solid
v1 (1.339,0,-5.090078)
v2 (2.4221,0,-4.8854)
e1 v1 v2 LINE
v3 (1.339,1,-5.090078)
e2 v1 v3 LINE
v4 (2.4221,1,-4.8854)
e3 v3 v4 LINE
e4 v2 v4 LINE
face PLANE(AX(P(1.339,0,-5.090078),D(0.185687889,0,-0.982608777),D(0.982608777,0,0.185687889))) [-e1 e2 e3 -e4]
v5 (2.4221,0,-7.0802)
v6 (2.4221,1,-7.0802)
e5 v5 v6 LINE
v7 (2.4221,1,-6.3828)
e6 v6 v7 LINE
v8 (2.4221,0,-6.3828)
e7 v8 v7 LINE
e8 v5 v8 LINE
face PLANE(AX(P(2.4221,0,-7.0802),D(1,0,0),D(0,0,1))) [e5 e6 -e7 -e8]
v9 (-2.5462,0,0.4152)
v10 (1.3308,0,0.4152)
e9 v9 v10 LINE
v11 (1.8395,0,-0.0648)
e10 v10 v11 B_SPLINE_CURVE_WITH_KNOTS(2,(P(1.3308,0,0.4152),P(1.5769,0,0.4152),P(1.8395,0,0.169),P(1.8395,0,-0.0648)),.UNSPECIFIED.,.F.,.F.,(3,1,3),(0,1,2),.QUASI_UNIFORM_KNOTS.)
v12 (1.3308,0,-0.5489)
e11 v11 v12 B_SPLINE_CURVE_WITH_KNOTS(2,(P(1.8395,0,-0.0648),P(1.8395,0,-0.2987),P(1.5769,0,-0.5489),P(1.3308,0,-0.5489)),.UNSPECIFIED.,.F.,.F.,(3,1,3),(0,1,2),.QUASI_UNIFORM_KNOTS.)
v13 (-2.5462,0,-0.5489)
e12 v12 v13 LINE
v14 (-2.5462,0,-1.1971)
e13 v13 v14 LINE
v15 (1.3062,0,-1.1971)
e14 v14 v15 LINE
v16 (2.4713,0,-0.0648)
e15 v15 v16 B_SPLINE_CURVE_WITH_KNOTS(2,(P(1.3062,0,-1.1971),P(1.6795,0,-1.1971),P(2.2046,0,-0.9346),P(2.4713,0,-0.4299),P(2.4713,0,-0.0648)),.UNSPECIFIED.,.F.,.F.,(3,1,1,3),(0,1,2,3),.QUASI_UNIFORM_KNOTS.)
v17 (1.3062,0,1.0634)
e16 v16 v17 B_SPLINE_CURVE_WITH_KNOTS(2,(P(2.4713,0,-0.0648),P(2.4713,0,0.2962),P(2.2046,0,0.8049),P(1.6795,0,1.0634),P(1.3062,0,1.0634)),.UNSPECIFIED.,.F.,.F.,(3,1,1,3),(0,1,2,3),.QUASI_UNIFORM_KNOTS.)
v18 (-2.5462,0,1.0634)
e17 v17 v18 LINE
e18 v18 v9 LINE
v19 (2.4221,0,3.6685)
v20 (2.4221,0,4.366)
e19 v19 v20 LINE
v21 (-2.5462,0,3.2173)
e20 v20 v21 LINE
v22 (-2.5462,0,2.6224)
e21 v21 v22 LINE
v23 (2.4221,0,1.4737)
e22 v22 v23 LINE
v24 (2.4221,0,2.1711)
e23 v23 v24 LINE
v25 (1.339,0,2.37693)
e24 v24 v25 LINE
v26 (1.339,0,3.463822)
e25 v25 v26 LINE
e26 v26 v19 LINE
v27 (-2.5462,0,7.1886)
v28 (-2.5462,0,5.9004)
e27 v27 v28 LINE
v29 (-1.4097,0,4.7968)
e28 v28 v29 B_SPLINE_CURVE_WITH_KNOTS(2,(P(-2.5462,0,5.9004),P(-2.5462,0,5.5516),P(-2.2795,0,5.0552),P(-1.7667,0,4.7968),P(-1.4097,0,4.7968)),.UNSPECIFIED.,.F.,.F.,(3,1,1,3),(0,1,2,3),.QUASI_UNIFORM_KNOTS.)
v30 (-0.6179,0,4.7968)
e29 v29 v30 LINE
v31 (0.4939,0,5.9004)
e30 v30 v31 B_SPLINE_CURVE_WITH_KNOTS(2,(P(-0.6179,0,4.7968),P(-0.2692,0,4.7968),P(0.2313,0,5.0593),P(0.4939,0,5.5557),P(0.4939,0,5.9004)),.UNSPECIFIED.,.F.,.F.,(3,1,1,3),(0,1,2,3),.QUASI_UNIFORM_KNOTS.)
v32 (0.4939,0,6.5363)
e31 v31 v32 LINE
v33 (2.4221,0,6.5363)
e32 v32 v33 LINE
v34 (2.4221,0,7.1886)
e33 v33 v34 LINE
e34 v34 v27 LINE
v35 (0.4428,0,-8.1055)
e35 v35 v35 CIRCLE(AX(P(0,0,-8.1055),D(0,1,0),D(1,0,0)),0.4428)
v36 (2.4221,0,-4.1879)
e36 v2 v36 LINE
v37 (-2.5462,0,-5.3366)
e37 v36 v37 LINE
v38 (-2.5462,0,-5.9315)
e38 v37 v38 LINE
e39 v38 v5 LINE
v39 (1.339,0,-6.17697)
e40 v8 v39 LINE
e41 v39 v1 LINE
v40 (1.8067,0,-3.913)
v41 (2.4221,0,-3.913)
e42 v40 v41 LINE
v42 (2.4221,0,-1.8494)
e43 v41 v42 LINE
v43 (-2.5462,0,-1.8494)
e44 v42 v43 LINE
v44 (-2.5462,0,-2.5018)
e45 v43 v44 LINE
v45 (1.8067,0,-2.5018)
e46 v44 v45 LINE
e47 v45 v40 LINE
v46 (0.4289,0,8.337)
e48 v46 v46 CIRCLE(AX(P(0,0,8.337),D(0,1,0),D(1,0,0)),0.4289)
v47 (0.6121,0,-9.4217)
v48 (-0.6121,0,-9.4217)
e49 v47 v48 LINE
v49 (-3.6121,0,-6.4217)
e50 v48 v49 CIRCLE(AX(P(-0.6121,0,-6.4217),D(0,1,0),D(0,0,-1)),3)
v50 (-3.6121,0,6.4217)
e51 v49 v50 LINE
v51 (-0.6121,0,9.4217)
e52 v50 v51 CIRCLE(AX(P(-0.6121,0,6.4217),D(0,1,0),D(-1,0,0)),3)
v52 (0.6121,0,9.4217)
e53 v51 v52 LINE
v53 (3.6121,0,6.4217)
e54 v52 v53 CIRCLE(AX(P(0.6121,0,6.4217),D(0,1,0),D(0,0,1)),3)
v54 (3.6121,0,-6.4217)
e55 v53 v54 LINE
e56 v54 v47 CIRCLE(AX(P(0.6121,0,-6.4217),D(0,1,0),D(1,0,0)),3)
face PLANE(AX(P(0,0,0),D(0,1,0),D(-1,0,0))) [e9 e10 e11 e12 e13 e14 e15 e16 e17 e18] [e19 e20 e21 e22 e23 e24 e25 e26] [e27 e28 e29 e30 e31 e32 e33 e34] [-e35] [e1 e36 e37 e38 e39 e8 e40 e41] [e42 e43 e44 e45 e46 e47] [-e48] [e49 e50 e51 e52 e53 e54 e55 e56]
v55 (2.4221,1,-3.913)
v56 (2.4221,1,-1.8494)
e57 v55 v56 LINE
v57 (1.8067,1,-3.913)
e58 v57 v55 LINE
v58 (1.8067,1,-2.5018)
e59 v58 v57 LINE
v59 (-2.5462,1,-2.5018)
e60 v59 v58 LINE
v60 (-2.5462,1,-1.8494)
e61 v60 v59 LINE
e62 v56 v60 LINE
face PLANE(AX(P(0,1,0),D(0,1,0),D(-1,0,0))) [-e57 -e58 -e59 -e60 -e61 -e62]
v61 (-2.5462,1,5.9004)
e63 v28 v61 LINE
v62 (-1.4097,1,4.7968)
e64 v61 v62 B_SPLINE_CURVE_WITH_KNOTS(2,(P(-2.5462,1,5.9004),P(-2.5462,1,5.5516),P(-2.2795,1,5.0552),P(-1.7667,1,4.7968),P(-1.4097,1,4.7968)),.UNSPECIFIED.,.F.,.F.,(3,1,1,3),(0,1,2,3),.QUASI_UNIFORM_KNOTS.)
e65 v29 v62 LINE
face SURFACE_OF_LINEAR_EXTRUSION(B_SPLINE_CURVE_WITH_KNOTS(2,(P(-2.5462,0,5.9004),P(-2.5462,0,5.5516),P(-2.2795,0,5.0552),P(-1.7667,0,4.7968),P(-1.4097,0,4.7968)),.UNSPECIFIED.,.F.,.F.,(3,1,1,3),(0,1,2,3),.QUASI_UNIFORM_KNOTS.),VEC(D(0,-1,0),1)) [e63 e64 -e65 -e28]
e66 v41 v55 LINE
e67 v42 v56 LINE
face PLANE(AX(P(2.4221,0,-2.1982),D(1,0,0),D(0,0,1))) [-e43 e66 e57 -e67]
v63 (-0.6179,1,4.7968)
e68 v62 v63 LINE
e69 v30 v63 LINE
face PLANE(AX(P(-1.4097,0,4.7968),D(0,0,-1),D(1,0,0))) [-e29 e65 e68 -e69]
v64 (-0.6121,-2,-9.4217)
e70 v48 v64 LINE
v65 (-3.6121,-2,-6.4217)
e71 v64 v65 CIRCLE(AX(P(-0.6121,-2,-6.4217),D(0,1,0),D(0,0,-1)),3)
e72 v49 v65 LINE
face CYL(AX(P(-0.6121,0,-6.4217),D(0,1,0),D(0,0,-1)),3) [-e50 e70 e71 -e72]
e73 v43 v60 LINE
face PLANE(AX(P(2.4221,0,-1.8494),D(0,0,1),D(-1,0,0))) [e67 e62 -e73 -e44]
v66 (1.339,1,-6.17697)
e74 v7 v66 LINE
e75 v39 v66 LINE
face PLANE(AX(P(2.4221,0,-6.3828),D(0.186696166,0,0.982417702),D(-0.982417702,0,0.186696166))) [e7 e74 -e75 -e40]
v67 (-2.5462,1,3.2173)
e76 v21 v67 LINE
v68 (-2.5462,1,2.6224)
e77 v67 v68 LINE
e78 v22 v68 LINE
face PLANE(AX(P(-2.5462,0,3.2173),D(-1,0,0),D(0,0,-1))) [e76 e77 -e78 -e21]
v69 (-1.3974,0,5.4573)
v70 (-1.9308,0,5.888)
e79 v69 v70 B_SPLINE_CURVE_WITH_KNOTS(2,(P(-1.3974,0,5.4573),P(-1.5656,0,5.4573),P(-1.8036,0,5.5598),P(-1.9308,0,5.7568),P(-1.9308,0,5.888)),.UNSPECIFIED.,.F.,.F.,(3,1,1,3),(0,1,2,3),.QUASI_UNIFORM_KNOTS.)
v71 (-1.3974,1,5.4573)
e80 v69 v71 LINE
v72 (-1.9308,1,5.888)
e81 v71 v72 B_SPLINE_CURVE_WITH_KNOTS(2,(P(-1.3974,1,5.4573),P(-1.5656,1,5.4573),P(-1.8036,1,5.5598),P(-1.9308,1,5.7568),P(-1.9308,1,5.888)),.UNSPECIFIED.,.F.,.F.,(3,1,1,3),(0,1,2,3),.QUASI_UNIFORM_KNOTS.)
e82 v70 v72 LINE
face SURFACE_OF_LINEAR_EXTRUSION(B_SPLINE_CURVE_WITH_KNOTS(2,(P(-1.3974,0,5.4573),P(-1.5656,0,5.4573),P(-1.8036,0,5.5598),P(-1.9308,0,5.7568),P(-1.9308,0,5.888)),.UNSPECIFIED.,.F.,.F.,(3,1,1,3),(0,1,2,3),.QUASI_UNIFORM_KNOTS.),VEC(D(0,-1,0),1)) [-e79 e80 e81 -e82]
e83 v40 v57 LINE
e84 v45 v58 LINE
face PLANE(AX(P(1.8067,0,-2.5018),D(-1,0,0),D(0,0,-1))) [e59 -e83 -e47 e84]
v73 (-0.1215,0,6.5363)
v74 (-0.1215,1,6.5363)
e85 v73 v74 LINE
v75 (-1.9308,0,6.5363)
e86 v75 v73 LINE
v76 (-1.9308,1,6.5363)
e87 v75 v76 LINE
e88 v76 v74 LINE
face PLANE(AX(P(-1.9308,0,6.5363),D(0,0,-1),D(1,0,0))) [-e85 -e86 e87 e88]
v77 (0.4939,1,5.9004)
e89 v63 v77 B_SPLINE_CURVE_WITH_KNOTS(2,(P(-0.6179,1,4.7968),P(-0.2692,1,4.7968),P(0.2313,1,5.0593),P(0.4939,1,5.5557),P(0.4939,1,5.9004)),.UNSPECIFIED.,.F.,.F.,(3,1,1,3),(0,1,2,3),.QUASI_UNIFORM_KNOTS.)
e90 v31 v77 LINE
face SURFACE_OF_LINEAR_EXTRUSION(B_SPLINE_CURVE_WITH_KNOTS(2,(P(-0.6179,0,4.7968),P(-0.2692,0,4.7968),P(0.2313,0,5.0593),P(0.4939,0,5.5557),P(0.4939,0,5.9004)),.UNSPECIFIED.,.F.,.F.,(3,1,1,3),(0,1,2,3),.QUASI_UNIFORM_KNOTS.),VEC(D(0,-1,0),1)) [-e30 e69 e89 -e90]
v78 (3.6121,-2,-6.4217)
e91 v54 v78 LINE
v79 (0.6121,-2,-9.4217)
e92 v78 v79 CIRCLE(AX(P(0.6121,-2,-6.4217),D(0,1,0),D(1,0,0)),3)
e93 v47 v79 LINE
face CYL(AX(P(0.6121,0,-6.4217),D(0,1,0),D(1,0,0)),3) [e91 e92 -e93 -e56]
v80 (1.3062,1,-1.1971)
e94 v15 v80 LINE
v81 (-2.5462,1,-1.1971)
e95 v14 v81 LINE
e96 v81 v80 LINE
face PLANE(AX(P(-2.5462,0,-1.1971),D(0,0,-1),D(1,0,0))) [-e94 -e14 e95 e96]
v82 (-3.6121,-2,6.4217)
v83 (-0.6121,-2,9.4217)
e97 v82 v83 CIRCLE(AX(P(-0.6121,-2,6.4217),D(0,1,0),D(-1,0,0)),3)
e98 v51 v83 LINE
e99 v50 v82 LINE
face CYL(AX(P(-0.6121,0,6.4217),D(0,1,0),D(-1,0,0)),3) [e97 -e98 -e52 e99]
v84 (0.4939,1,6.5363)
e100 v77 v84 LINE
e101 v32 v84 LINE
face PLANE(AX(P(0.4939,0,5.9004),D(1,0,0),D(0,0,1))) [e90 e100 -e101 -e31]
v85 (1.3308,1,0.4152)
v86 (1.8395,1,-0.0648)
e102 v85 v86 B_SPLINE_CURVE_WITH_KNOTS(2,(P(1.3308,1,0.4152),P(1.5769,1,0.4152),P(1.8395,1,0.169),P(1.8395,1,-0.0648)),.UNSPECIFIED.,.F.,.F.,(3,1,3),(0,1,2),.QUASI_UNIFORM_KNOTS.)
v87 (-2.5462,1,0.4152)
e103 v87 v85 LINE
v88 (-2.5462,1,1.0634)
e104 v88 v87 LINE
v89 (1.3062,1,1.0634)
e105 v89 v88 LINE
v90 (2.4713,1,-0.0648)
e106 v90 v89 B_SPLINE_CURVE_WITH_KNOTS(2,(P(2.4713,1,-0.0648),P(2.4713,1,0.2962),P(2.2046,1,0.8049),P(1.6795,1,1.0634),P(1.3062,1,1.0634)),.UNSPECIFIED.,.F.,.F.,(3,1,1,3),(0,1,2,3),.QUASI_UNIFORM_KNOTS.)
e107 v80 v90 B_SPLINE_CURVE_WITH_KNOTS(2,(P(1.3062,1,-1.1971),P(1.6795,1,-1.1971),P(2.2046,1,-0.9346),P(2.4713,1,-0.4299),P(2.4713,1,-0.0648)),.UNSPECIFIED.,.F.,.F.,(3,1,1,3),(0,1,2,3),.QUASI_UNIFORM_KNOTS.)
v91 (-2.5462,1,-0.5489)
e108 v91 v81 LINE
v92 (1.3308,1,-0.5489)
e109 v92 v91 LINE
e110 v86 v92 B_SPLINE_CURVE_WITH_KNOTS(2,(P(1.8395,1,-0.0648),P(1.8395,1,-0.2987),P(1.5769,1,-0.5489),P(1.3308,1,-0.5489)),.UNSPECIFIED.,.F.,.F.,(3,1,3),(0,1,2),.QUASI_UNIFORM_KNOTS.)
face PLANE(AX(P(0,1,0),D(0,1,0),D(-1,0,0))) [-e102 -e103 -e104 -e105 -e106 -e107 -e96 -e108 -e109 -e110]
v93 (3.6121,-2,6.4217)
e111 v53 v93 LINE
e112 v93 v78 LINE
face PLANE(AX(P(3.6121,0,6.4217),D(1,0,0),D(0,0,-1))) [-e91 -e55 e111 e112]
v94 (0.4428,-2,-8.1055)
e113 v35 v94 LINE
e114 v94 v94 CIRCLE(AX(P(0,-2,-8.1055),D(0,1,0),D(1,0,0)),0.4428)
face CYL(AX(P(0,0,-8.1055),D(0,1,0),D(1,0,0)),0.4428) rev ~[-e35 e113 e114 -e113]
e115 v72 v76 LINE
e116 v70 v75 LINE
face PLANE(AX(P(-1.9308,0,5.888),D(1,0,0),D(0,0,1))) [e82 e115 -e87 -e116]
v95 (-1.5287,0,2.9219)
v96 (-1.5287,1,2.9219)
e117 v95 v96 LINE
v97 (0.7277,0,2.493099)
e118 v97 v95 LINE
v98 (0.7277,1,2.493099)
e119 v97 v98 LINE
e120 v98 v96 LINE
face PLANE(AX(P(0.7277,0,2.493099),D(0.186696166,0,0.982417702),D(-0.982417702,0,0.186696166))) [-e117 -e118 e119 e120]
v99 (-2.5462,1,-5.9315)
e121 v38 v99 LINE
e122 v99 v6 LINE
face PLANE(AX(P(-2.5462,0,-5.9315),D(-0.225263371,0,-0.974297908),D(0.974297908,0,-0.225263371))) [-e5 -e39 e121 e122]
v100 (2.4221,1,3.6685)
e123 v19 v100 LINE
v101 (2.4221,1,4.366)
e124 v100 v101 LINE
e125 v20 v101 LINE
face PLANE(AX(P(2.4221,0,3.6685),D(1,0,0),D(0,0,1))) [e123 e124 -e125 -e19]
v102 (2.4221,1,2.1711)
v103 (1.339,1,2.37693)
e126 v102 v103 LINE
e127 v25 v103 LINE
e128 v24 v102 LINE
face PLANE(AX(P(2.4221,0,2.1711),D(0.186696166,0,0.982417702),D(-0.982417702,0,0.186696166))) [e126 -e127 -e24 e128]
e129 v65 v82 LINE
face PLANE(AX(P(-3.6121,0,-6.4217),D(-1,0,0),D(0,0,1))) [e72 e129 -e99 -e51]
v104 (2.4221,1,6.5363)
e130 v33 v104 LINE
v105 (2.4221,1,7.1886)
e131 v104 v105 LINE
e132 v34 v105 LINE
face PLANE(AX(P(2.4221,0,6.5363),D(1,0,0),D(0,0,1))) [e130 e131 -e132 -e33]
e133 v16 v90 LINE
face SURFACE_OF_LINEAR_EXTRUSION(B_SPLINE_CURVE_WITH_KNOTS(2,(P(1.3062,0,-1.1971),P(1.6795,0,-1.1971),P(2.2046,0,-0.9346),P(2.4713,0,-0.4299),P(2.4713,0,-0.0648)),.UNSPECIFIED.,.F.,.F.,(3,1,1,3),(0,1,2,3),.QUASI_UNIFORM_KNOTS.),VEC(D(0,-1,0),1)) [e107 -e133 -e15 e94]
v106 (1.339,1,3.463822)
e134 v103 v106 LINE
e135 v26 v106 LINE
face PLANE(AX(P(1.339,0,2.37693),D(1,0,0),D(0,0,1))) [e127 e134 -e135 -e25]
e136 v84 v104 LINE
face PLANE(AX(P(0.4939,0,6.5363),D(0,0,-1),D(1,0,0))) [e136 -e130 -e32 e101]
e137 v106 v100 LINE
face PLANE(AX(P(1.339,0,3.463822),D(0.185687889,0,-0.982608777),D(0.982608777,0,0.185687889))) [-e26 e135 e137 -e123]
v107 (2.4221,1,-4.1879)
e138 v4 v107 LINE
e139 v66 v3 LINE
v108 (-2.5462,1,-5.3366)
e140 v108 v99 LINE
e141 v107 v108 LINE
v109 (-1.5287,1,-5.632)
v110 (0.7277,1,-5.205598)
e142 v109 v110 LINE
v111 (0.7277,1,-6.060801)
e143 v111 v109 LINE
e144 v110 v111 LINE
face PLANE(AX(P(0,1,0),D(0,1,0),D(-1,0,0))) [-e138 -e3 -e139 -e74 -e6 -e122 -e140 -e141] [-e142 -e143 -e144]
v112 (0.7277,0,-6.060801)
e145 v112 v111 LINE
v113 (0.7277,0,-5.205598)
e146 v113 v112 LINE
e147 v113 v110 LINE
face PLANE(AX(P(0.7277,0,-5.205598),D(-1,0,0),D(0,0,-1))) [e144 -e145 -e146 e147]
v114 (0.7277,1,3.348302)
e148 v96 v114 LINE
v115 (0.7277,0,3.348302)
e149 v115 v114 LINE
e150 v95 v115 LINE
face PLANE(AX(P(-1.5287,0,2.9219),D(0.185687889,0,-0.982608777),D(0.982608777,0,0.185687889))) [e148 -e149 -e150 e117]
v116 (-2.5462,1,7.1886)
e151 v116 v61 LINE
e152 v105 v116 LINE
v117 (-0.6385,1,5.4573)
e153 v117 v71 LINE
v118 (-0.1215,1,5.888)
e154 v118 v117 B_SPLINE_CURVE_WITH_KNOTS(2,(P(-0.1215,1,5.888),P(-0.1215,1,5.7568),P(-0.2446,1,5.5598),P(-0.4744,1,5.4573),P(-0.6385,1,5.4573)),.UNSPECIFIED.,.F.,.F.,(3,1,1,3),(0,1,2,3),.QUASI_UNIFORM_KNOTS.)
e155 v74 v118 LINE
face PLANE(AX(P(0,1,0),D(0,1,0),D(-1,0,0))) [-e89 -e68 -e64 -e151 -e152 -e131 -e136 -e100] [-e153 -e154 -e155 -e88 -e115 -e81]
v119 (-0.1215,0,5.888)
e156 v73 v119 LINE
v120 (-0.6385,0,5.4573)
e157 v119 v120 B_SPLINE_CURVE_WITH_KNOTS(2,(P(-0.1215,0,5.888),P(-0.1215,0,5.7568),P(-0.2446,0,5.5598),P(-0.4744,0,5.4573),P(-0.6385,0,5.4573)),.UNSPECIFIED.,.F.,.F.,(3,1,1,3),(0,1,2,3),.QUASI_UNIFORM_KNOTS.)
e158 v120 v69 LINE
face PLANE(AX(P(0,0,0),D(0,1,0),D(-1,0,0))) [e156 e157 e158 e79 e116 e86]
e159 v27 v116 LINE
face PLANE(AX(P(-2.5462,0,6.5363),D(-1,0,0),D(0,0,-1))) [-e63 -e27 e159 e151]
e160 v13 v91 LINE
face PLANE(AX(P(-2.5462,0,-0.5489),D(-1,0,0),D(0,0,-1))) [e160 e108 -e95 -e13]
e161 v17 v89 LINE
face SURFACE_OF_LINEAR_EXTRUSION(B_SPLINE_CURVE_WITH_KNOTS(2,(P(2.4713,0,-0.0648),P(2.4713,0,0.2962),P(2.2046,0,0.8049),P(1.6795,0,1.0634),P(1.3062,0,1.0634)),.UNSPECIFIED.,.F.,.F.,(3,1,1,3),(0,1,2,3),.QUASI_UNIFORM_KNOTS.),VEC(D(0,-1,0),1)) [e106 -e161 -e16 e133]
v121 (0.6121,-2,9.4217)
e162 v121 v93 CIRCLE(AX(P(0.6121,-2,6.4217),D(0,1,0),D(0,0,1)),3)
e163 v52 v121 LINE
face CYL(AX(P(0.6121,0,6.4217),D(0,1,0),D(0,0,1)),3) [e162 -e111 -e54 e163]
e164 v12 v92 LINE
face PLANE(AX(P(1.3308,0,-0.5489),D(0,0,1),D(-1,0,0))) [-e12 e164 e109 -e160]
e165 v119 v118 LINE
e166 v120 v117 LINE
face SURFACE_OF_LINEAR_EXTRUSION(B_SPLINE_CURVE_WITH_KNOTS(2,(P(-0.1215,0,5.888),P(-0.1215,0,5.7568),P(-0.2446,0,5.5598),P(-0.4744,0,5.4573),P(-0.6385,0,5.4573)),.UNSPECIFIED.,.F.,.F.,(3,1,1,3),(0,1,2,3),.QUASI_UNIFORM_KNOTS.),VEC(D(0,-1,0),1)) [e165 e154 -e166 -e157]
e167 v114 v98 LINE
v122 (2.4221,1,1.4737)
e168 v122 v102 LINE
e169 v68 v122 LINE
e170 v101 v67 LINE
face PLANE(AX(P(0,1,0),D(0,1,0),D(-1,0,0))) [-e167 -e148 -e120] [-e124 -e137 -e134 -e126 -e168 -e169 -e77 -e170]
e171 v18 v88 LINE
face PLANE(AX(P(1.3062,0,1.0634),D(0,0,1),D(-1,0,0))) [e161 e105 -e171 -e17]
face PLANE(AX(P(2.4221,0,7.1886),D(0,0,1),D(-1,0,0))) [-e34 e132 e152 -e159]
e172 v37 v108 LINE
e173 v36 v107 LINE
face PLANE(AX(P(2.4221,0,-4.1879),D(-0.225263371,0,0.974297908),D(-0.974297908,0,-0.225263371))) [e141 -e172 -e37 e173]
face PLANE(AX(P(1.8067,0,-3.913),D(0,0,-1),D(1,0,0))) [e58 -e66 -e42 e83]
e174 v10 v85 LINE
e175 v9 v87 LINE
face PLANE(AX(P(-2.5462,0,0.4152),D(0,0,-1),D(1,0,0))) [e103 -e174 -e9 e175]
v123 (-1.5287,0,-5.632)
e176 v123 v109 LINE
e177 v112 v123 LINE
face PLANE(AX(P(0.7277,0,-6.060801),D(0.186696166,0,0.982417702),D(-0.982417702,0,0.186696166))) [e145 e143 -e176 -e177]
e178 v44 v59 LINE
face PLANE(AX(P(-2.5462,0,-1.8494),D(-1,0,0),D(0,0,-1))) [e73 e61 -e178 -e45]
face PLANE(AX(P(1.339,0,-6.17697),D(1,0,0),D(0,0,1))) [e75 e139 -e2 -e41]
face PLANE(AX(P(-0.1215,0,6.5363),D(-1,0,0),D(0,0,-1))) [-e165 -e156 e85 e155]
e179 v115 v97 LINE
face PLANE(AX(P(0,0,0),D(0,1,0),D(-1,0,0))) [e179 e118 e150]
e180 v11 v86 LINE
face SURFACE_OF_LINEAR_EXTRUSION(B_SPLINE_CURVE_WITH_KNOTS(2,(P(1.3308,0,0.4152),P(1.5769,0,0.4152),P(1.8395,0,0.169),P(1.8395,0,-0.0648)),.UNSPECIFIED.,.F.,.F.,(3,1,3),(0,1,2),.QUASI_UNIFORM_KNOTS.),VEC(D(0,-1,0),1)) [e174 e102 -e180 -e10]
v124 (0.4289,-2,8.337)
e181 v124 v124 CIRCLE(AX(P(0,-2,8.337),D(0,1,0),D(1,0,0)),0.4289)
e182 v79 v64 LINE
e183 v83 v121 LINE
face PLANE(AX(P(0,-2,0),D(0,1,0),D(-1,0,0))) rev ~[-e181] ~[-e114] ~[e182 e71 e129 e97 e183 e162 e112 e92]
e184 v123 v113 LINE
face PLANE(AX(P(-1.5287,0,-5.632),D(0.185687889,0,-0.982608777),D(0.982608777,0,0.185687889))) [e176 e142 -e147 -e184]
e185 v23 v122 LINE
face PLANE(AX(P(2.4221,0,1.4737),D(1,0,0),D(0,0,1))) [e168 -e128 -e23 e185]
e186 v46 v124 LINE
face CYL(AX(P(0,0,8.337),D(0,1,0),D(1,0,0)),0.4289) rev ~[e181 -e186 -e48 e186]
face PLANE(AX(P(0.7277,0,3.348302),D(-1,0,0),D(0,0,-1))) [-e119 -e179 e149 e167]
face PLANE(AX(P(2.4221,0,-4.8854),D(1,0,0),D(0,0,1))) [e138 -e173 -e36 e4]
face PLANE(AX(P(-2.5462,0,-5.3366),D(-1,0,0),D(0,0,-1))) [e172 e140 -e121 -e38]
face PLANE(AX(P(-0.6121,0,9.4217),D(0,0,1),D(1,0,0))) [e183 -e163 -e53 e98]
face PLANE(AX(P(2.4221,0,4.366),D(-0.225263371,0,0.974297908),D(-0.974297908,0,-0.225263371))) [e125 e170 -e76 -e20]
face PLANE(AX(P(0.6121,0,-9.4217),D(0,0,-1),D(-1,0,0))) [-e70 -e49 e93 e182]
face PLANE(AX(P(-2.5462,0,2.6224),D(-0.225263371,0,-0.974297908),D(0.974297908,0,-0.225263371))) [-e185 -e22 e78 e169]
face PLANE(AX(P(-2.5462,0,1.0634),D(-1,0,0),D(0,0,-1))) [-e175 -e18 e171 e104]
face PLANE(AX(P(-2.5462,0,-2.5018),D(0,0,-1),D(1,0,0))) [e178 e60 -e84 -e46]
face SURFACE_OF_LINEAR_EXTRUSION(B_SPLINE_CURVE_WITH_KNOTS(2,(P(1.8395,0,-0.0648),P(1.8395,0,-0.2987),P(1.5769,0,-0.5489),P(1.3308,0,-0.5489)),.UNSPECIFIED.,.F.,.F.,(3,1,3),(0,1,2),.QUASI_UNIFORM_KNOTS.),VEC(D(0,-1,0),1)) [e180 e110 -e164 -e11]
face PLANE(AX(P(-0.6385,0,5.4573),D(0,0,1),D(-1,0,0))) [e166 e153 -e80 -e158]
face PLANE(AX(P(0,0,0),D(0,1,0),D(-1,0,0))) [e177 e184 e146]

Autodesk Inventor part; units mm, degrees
ref_plane "YZ Plane" through (0, 0, 0) normal (1, 0, 0) x (0, 1, 0)
ref_plane "XZ Plane" through (0, 0, 0) normal (0, 1, 0) x (-1, 0, 0)
ref_plane "XY Plane" through (0, 0, 0) normal (0, 0, 1) x (1, 0, 0)
sketch "Sketch1" plane through (0, 0, 0) normal (0, 1, 0) x (-1, 0, 0)
  line L0 (0.6121, 9.4217) -> (-0.6121, 9.4217)
  line L1 (-3.6121, 6.4217) -> (-3.6121, -6.4217)
  line L2 (-0.6121, -9.4217) -> (0.6121, -9.4217)
  line L3 (3.6121, -6.4217) -> (3.6121, 6.4217)
  line L4 (3.6121, 9.4217) -> (-3.6121, -9.4217) construction
  line L5 (-3.6121, 9.4217) -> (3.6121, -9.4217) construction
  arc A0 (3.6121, 6.4217) -> (0.6121, 9.4217) centre (0.6121, 6.4217) ccw
  arc A1 (-0.6121, 9.4217) -> (-3.6121, 6.4217) centre (-0.6121, 6.4217) ccw
  arc A2 (0.6121, -9.4217) -> (3.6121, -6.4217) centre (0.6121, -6.4217) ccw
  arc A3 (-3.6121, -6.4217) -> (-0.6121, -9.4217) centre (-0.6121, -6.4217) ccw
  line L6 (2.5462, 7.5291) -> (2.5462, -7.1828) construction
  line L7 (2.5462, -7.1828) -> (-2.4754, -7.1828) construction
  line L8 (-2.4754, -7.1828) -> (-2.4754, 7.5291) construction
  line L9 (-2.4754, 7.5291) -> (2.5462, 7.5291) construction
  line L10 (0.1215, 6.8275) -> (0.1215, 5.888)
  spline S0 degree 2 poles (0.1215, 5.888) (0.1215, 5.7568) (0.2446, 5.5598) (0.4744, 5.4573) (0.6385, 5.4573) knots 0 0 0 1 2 3 3 3
  line L11 (0.6385, 5.4573) -> (1.3974, 5.4573)
  spline S1 degree 2 poles (1.3974, 5.4573) (1.5656, 5.4573) (1.8036, 5.5598) (1.9308, 5.7568) (1.9308, 5.888) knots 0 0 0 1 2 3 3 3
  line L12 (1.9308, 5.888) -> (1.9308, 6.8275)
  line L13 (1.9308, 6.8275) -> (2.5462, 6.8275)
  line L14 (2.5462, 6.8275) -> (2.5462, 5.9004)
  spline S2 degree 2 poles (2.5462, 5.9004) (2.5462, 5.5516) (2.2795, 5.0552) (1.7667, 4.7968) (1.4097, 4.7968) knots 0 0 0 1 2 3 3 3
  line L15 (1.4097, 4.7968) -> (0.6179, 4.7968)
  spline S3 degree 2 poles (0.6179, 4.7968) (0.2692, 4.7968) (-0.2313, 5.0593) (-0.4939, 5.5557) (-0.4939, 5.9004) knots 0 0 0 1 2 3 3 3
  line L16 (-0.4939, 5.9004) -> (-0.4939, 6.8275)
  line L17 (-0.4939, 6.8275) -> (0.1215, 6.8275)
  line L18 (2.5462, 7.1886) -> (2.5462, 6.5363)
  line L19 (2.5462, 6.5363) -> (-2.4221, 6.5363)
  line L20 (-2.4221, 6.5363) -> (-2.4221, 7.1886)
  line L21 (-2.4221, 7.1886) -> (2.5462, 7.1886)
  line L22 (2.5462, 3.2173) -> (2.5462, 2.6224)
  line L23 (2.5462, 2.6224) -> (-2.4221, 1.4737)
  line L24 (-2.4221, 1.4737) -> (-2.4221, 2.1711)
  line L25 (-2.4221, 2.1711) -> (1.5287, 2.9219)
  line L26 (1.5287, 2.9219) -> (-2.4221, 3.6685)
  line L27 (-2.4221, 3.6685) -> (-2.4221, 4.366)
  line L28 (-2.4221, 4.366) -> (2.5462, 3.2173)
  line L29 (-0.7277, 3.6316) -> (-0.7277, 2.1588)
  line L30 (-0.7277, 2.1588) -> (-1.339, 2.1588)
  line L31 (-1.339, 2.1588) -> (-1.339, 3.6316)
  line L32 (-1.339, 3.6316) -> (-0.7277, 3.6316)
  spline S4 degree 2 poles (-2.4713, -0.0648) (-2.4713, 0.2962) (-2.2046, 0.8049) (-1.6795, 1.0634) (-1.3062, 1.0634) knots 0 0 0 1 2 3 3 3
  line L33 (-1.3062, 1.0634) -> (2.5462, 1.0634)
  line L34 (2.5462, 1.0634) -> (2.5462, 0.4152)
  line L35 (2.5462, 0.4152) -> (-1.3308, 0.4152)
  spline S5 degree 2 poles (-1.3308, 0.4152) (-1.5769, 0.4152) (-1.8395, 0.169) (-1.8395, -0.0648) knots 0 0 0 1 2 2 2
  spline S6 degree 2 poles (-1.8395, -0.0648) (-1.8395, -0.2987) (-1.5769, -0.5489) (-1.3308, -0.5489) knots 0 0 0 1 2 2 2
  line L36 (-1.3308, -0.5489) -> (2.5462, -0.5489)
  line L37 (2.5462, -0.5489) -> (2.5462, -1.1971)
  line L38 (2.5462, -1.1971) -> (-1.3062, -1.1971)
  spline S7 degree 2 poles (-1.3062, -1.1971) (-1.6795, -1.1971) (-2.2046, -0.9346) (-2.4713, -0.4299) (-2.4713, -0.0648) knots 0 0 0 1 2 3 3 3
  line L39 (2.5462, -1.8494) -> (2.5462, -2.5018)
  line L40 (2.5462, -2.5018) -> (-2.4221, -2.5018)
  line L41 (-2.4221, -2.5018) -> (-2.4221, -1.8494)
  line L42 (-2.4221, -1.8494) -> (2.5462, -1.8494)
  line L43 (-1.8067, -2.1982) -> (-1.8067, -3.913)
  line L44 (-1.8067, -3.913) -> (-2.4221, -3.913)
  line L45 (-2.4221, -3.913) -> (-2.4221, -2.1982)
  line L46 (-2.4221, -2.1982) -> (-1.8067, -2.1982)
  line L47 (2.5462, -5.3366) -> (2.5462, -5.9315)
  line L48 (2.5462, -5.9315) -> (-2.4221, -7.0802)
  line L49 (-2.4221, -7.0802) -> (-2.4221, -6.3828)
  line L50 (-2.4221, -6.3828) -> (1.5287, -5.632)
  line L51 (1.5287, -5.632) -> (-2.4221, -4.8854)
  line L52 (-2.4221, -4.8854) -> (-2.4221, -4.1879)
  line L53 (-2.4221, -4.1879) -> (2.5462, -5.3366)
  line L54 (-0.7277, -4.9223) -> (-0.7277, -6.3951)
  line L55 (-0.7277, -6.3951) -> (-1.339, -6.3951)
  line L56 (-1.339, -6.3951) -> (-1.339, -4.9223)
  line L57 (-1.339, -4.9223) -> (-0.7277, -4.9223)
  point P0 (0, 0)
  dimension "d0" = 3
extrude "Extrusion1" add sketch "Sketch1" against normal blind 2 contours A0 L3 A2 L2 A3 L1 A1 L0 | L17 L16 L19 L20 L21 L18 L13 L12 L10 | L10 L19 L16 L17 | L19 L12 S1 L11 S0 L10 | L10 S0 L11 S1 L12 L19 L14 S2 L15 S3 L16 | L12 L13 L14 L19 | L22 L23 L24 L25 L31 L30 L29 L26 L32 L27 L28 | L31 L32 L29 L26 | L26 L29 L25 L31 | L25 L29 L30 L31 | L26 L25 L29 | S4 L33 L34 L35 S5 S6 L36 L37 L38 S7 | L39 L40 L43 L46 L41 L42 | L43 L44 L45 L40 | L40 L41 L46 L43 | L47 L48 L49 L50 L56 L55 L54 L51 L57 L52 L53 | L56 L57 L54 L51 | L51 L54 L50 L56 | L50 L54 L55 L56 | L51 L50 L54
extrude "Extrusion2" add sketch "Sketch1" along normal blind 1 contours L17 L16 L19 L20 L21 L18 L13 L12 L10 | L10 L19 L16 L17 | L10 S0 L11 S1 L12 L19 L14 S2 L15 S3 L16 | L12 L13 L14 L19 | L22 L23 L24 L25 L31 L30 L29 L26 L32 L27 L28 | L31 L32 L29 L26 | L26 L29 L25 L31 | L25 L29 L30 L31 | S4 L33 L34 L35 S5 S6 L36 L37 L38 S7 | L39 L40 L43 L46 L41 L42 | L43 L44 L45 L40 | L40 L41 L46 L43 | L47 L48 L49 L50 L56 L55 L54 L51 L57 L52 L53 | L56 L57 L54 L51 | L51 L54 L50 L56 | L50 L54 L55 L56
sketch "Sketch2" plane through (0, 0, 0) normal (0, 1, 0) x (1, 0, 0)
  circle A0 centre (0, -8.337) radius 0.4289
  circle A1 centre (0, 8.1055) radius 0.4428
  point P0 (0, 0)
extrude "Extrusion3" cut sketch "Sketch2" against normal through all
properties part number "_3DPrint"
